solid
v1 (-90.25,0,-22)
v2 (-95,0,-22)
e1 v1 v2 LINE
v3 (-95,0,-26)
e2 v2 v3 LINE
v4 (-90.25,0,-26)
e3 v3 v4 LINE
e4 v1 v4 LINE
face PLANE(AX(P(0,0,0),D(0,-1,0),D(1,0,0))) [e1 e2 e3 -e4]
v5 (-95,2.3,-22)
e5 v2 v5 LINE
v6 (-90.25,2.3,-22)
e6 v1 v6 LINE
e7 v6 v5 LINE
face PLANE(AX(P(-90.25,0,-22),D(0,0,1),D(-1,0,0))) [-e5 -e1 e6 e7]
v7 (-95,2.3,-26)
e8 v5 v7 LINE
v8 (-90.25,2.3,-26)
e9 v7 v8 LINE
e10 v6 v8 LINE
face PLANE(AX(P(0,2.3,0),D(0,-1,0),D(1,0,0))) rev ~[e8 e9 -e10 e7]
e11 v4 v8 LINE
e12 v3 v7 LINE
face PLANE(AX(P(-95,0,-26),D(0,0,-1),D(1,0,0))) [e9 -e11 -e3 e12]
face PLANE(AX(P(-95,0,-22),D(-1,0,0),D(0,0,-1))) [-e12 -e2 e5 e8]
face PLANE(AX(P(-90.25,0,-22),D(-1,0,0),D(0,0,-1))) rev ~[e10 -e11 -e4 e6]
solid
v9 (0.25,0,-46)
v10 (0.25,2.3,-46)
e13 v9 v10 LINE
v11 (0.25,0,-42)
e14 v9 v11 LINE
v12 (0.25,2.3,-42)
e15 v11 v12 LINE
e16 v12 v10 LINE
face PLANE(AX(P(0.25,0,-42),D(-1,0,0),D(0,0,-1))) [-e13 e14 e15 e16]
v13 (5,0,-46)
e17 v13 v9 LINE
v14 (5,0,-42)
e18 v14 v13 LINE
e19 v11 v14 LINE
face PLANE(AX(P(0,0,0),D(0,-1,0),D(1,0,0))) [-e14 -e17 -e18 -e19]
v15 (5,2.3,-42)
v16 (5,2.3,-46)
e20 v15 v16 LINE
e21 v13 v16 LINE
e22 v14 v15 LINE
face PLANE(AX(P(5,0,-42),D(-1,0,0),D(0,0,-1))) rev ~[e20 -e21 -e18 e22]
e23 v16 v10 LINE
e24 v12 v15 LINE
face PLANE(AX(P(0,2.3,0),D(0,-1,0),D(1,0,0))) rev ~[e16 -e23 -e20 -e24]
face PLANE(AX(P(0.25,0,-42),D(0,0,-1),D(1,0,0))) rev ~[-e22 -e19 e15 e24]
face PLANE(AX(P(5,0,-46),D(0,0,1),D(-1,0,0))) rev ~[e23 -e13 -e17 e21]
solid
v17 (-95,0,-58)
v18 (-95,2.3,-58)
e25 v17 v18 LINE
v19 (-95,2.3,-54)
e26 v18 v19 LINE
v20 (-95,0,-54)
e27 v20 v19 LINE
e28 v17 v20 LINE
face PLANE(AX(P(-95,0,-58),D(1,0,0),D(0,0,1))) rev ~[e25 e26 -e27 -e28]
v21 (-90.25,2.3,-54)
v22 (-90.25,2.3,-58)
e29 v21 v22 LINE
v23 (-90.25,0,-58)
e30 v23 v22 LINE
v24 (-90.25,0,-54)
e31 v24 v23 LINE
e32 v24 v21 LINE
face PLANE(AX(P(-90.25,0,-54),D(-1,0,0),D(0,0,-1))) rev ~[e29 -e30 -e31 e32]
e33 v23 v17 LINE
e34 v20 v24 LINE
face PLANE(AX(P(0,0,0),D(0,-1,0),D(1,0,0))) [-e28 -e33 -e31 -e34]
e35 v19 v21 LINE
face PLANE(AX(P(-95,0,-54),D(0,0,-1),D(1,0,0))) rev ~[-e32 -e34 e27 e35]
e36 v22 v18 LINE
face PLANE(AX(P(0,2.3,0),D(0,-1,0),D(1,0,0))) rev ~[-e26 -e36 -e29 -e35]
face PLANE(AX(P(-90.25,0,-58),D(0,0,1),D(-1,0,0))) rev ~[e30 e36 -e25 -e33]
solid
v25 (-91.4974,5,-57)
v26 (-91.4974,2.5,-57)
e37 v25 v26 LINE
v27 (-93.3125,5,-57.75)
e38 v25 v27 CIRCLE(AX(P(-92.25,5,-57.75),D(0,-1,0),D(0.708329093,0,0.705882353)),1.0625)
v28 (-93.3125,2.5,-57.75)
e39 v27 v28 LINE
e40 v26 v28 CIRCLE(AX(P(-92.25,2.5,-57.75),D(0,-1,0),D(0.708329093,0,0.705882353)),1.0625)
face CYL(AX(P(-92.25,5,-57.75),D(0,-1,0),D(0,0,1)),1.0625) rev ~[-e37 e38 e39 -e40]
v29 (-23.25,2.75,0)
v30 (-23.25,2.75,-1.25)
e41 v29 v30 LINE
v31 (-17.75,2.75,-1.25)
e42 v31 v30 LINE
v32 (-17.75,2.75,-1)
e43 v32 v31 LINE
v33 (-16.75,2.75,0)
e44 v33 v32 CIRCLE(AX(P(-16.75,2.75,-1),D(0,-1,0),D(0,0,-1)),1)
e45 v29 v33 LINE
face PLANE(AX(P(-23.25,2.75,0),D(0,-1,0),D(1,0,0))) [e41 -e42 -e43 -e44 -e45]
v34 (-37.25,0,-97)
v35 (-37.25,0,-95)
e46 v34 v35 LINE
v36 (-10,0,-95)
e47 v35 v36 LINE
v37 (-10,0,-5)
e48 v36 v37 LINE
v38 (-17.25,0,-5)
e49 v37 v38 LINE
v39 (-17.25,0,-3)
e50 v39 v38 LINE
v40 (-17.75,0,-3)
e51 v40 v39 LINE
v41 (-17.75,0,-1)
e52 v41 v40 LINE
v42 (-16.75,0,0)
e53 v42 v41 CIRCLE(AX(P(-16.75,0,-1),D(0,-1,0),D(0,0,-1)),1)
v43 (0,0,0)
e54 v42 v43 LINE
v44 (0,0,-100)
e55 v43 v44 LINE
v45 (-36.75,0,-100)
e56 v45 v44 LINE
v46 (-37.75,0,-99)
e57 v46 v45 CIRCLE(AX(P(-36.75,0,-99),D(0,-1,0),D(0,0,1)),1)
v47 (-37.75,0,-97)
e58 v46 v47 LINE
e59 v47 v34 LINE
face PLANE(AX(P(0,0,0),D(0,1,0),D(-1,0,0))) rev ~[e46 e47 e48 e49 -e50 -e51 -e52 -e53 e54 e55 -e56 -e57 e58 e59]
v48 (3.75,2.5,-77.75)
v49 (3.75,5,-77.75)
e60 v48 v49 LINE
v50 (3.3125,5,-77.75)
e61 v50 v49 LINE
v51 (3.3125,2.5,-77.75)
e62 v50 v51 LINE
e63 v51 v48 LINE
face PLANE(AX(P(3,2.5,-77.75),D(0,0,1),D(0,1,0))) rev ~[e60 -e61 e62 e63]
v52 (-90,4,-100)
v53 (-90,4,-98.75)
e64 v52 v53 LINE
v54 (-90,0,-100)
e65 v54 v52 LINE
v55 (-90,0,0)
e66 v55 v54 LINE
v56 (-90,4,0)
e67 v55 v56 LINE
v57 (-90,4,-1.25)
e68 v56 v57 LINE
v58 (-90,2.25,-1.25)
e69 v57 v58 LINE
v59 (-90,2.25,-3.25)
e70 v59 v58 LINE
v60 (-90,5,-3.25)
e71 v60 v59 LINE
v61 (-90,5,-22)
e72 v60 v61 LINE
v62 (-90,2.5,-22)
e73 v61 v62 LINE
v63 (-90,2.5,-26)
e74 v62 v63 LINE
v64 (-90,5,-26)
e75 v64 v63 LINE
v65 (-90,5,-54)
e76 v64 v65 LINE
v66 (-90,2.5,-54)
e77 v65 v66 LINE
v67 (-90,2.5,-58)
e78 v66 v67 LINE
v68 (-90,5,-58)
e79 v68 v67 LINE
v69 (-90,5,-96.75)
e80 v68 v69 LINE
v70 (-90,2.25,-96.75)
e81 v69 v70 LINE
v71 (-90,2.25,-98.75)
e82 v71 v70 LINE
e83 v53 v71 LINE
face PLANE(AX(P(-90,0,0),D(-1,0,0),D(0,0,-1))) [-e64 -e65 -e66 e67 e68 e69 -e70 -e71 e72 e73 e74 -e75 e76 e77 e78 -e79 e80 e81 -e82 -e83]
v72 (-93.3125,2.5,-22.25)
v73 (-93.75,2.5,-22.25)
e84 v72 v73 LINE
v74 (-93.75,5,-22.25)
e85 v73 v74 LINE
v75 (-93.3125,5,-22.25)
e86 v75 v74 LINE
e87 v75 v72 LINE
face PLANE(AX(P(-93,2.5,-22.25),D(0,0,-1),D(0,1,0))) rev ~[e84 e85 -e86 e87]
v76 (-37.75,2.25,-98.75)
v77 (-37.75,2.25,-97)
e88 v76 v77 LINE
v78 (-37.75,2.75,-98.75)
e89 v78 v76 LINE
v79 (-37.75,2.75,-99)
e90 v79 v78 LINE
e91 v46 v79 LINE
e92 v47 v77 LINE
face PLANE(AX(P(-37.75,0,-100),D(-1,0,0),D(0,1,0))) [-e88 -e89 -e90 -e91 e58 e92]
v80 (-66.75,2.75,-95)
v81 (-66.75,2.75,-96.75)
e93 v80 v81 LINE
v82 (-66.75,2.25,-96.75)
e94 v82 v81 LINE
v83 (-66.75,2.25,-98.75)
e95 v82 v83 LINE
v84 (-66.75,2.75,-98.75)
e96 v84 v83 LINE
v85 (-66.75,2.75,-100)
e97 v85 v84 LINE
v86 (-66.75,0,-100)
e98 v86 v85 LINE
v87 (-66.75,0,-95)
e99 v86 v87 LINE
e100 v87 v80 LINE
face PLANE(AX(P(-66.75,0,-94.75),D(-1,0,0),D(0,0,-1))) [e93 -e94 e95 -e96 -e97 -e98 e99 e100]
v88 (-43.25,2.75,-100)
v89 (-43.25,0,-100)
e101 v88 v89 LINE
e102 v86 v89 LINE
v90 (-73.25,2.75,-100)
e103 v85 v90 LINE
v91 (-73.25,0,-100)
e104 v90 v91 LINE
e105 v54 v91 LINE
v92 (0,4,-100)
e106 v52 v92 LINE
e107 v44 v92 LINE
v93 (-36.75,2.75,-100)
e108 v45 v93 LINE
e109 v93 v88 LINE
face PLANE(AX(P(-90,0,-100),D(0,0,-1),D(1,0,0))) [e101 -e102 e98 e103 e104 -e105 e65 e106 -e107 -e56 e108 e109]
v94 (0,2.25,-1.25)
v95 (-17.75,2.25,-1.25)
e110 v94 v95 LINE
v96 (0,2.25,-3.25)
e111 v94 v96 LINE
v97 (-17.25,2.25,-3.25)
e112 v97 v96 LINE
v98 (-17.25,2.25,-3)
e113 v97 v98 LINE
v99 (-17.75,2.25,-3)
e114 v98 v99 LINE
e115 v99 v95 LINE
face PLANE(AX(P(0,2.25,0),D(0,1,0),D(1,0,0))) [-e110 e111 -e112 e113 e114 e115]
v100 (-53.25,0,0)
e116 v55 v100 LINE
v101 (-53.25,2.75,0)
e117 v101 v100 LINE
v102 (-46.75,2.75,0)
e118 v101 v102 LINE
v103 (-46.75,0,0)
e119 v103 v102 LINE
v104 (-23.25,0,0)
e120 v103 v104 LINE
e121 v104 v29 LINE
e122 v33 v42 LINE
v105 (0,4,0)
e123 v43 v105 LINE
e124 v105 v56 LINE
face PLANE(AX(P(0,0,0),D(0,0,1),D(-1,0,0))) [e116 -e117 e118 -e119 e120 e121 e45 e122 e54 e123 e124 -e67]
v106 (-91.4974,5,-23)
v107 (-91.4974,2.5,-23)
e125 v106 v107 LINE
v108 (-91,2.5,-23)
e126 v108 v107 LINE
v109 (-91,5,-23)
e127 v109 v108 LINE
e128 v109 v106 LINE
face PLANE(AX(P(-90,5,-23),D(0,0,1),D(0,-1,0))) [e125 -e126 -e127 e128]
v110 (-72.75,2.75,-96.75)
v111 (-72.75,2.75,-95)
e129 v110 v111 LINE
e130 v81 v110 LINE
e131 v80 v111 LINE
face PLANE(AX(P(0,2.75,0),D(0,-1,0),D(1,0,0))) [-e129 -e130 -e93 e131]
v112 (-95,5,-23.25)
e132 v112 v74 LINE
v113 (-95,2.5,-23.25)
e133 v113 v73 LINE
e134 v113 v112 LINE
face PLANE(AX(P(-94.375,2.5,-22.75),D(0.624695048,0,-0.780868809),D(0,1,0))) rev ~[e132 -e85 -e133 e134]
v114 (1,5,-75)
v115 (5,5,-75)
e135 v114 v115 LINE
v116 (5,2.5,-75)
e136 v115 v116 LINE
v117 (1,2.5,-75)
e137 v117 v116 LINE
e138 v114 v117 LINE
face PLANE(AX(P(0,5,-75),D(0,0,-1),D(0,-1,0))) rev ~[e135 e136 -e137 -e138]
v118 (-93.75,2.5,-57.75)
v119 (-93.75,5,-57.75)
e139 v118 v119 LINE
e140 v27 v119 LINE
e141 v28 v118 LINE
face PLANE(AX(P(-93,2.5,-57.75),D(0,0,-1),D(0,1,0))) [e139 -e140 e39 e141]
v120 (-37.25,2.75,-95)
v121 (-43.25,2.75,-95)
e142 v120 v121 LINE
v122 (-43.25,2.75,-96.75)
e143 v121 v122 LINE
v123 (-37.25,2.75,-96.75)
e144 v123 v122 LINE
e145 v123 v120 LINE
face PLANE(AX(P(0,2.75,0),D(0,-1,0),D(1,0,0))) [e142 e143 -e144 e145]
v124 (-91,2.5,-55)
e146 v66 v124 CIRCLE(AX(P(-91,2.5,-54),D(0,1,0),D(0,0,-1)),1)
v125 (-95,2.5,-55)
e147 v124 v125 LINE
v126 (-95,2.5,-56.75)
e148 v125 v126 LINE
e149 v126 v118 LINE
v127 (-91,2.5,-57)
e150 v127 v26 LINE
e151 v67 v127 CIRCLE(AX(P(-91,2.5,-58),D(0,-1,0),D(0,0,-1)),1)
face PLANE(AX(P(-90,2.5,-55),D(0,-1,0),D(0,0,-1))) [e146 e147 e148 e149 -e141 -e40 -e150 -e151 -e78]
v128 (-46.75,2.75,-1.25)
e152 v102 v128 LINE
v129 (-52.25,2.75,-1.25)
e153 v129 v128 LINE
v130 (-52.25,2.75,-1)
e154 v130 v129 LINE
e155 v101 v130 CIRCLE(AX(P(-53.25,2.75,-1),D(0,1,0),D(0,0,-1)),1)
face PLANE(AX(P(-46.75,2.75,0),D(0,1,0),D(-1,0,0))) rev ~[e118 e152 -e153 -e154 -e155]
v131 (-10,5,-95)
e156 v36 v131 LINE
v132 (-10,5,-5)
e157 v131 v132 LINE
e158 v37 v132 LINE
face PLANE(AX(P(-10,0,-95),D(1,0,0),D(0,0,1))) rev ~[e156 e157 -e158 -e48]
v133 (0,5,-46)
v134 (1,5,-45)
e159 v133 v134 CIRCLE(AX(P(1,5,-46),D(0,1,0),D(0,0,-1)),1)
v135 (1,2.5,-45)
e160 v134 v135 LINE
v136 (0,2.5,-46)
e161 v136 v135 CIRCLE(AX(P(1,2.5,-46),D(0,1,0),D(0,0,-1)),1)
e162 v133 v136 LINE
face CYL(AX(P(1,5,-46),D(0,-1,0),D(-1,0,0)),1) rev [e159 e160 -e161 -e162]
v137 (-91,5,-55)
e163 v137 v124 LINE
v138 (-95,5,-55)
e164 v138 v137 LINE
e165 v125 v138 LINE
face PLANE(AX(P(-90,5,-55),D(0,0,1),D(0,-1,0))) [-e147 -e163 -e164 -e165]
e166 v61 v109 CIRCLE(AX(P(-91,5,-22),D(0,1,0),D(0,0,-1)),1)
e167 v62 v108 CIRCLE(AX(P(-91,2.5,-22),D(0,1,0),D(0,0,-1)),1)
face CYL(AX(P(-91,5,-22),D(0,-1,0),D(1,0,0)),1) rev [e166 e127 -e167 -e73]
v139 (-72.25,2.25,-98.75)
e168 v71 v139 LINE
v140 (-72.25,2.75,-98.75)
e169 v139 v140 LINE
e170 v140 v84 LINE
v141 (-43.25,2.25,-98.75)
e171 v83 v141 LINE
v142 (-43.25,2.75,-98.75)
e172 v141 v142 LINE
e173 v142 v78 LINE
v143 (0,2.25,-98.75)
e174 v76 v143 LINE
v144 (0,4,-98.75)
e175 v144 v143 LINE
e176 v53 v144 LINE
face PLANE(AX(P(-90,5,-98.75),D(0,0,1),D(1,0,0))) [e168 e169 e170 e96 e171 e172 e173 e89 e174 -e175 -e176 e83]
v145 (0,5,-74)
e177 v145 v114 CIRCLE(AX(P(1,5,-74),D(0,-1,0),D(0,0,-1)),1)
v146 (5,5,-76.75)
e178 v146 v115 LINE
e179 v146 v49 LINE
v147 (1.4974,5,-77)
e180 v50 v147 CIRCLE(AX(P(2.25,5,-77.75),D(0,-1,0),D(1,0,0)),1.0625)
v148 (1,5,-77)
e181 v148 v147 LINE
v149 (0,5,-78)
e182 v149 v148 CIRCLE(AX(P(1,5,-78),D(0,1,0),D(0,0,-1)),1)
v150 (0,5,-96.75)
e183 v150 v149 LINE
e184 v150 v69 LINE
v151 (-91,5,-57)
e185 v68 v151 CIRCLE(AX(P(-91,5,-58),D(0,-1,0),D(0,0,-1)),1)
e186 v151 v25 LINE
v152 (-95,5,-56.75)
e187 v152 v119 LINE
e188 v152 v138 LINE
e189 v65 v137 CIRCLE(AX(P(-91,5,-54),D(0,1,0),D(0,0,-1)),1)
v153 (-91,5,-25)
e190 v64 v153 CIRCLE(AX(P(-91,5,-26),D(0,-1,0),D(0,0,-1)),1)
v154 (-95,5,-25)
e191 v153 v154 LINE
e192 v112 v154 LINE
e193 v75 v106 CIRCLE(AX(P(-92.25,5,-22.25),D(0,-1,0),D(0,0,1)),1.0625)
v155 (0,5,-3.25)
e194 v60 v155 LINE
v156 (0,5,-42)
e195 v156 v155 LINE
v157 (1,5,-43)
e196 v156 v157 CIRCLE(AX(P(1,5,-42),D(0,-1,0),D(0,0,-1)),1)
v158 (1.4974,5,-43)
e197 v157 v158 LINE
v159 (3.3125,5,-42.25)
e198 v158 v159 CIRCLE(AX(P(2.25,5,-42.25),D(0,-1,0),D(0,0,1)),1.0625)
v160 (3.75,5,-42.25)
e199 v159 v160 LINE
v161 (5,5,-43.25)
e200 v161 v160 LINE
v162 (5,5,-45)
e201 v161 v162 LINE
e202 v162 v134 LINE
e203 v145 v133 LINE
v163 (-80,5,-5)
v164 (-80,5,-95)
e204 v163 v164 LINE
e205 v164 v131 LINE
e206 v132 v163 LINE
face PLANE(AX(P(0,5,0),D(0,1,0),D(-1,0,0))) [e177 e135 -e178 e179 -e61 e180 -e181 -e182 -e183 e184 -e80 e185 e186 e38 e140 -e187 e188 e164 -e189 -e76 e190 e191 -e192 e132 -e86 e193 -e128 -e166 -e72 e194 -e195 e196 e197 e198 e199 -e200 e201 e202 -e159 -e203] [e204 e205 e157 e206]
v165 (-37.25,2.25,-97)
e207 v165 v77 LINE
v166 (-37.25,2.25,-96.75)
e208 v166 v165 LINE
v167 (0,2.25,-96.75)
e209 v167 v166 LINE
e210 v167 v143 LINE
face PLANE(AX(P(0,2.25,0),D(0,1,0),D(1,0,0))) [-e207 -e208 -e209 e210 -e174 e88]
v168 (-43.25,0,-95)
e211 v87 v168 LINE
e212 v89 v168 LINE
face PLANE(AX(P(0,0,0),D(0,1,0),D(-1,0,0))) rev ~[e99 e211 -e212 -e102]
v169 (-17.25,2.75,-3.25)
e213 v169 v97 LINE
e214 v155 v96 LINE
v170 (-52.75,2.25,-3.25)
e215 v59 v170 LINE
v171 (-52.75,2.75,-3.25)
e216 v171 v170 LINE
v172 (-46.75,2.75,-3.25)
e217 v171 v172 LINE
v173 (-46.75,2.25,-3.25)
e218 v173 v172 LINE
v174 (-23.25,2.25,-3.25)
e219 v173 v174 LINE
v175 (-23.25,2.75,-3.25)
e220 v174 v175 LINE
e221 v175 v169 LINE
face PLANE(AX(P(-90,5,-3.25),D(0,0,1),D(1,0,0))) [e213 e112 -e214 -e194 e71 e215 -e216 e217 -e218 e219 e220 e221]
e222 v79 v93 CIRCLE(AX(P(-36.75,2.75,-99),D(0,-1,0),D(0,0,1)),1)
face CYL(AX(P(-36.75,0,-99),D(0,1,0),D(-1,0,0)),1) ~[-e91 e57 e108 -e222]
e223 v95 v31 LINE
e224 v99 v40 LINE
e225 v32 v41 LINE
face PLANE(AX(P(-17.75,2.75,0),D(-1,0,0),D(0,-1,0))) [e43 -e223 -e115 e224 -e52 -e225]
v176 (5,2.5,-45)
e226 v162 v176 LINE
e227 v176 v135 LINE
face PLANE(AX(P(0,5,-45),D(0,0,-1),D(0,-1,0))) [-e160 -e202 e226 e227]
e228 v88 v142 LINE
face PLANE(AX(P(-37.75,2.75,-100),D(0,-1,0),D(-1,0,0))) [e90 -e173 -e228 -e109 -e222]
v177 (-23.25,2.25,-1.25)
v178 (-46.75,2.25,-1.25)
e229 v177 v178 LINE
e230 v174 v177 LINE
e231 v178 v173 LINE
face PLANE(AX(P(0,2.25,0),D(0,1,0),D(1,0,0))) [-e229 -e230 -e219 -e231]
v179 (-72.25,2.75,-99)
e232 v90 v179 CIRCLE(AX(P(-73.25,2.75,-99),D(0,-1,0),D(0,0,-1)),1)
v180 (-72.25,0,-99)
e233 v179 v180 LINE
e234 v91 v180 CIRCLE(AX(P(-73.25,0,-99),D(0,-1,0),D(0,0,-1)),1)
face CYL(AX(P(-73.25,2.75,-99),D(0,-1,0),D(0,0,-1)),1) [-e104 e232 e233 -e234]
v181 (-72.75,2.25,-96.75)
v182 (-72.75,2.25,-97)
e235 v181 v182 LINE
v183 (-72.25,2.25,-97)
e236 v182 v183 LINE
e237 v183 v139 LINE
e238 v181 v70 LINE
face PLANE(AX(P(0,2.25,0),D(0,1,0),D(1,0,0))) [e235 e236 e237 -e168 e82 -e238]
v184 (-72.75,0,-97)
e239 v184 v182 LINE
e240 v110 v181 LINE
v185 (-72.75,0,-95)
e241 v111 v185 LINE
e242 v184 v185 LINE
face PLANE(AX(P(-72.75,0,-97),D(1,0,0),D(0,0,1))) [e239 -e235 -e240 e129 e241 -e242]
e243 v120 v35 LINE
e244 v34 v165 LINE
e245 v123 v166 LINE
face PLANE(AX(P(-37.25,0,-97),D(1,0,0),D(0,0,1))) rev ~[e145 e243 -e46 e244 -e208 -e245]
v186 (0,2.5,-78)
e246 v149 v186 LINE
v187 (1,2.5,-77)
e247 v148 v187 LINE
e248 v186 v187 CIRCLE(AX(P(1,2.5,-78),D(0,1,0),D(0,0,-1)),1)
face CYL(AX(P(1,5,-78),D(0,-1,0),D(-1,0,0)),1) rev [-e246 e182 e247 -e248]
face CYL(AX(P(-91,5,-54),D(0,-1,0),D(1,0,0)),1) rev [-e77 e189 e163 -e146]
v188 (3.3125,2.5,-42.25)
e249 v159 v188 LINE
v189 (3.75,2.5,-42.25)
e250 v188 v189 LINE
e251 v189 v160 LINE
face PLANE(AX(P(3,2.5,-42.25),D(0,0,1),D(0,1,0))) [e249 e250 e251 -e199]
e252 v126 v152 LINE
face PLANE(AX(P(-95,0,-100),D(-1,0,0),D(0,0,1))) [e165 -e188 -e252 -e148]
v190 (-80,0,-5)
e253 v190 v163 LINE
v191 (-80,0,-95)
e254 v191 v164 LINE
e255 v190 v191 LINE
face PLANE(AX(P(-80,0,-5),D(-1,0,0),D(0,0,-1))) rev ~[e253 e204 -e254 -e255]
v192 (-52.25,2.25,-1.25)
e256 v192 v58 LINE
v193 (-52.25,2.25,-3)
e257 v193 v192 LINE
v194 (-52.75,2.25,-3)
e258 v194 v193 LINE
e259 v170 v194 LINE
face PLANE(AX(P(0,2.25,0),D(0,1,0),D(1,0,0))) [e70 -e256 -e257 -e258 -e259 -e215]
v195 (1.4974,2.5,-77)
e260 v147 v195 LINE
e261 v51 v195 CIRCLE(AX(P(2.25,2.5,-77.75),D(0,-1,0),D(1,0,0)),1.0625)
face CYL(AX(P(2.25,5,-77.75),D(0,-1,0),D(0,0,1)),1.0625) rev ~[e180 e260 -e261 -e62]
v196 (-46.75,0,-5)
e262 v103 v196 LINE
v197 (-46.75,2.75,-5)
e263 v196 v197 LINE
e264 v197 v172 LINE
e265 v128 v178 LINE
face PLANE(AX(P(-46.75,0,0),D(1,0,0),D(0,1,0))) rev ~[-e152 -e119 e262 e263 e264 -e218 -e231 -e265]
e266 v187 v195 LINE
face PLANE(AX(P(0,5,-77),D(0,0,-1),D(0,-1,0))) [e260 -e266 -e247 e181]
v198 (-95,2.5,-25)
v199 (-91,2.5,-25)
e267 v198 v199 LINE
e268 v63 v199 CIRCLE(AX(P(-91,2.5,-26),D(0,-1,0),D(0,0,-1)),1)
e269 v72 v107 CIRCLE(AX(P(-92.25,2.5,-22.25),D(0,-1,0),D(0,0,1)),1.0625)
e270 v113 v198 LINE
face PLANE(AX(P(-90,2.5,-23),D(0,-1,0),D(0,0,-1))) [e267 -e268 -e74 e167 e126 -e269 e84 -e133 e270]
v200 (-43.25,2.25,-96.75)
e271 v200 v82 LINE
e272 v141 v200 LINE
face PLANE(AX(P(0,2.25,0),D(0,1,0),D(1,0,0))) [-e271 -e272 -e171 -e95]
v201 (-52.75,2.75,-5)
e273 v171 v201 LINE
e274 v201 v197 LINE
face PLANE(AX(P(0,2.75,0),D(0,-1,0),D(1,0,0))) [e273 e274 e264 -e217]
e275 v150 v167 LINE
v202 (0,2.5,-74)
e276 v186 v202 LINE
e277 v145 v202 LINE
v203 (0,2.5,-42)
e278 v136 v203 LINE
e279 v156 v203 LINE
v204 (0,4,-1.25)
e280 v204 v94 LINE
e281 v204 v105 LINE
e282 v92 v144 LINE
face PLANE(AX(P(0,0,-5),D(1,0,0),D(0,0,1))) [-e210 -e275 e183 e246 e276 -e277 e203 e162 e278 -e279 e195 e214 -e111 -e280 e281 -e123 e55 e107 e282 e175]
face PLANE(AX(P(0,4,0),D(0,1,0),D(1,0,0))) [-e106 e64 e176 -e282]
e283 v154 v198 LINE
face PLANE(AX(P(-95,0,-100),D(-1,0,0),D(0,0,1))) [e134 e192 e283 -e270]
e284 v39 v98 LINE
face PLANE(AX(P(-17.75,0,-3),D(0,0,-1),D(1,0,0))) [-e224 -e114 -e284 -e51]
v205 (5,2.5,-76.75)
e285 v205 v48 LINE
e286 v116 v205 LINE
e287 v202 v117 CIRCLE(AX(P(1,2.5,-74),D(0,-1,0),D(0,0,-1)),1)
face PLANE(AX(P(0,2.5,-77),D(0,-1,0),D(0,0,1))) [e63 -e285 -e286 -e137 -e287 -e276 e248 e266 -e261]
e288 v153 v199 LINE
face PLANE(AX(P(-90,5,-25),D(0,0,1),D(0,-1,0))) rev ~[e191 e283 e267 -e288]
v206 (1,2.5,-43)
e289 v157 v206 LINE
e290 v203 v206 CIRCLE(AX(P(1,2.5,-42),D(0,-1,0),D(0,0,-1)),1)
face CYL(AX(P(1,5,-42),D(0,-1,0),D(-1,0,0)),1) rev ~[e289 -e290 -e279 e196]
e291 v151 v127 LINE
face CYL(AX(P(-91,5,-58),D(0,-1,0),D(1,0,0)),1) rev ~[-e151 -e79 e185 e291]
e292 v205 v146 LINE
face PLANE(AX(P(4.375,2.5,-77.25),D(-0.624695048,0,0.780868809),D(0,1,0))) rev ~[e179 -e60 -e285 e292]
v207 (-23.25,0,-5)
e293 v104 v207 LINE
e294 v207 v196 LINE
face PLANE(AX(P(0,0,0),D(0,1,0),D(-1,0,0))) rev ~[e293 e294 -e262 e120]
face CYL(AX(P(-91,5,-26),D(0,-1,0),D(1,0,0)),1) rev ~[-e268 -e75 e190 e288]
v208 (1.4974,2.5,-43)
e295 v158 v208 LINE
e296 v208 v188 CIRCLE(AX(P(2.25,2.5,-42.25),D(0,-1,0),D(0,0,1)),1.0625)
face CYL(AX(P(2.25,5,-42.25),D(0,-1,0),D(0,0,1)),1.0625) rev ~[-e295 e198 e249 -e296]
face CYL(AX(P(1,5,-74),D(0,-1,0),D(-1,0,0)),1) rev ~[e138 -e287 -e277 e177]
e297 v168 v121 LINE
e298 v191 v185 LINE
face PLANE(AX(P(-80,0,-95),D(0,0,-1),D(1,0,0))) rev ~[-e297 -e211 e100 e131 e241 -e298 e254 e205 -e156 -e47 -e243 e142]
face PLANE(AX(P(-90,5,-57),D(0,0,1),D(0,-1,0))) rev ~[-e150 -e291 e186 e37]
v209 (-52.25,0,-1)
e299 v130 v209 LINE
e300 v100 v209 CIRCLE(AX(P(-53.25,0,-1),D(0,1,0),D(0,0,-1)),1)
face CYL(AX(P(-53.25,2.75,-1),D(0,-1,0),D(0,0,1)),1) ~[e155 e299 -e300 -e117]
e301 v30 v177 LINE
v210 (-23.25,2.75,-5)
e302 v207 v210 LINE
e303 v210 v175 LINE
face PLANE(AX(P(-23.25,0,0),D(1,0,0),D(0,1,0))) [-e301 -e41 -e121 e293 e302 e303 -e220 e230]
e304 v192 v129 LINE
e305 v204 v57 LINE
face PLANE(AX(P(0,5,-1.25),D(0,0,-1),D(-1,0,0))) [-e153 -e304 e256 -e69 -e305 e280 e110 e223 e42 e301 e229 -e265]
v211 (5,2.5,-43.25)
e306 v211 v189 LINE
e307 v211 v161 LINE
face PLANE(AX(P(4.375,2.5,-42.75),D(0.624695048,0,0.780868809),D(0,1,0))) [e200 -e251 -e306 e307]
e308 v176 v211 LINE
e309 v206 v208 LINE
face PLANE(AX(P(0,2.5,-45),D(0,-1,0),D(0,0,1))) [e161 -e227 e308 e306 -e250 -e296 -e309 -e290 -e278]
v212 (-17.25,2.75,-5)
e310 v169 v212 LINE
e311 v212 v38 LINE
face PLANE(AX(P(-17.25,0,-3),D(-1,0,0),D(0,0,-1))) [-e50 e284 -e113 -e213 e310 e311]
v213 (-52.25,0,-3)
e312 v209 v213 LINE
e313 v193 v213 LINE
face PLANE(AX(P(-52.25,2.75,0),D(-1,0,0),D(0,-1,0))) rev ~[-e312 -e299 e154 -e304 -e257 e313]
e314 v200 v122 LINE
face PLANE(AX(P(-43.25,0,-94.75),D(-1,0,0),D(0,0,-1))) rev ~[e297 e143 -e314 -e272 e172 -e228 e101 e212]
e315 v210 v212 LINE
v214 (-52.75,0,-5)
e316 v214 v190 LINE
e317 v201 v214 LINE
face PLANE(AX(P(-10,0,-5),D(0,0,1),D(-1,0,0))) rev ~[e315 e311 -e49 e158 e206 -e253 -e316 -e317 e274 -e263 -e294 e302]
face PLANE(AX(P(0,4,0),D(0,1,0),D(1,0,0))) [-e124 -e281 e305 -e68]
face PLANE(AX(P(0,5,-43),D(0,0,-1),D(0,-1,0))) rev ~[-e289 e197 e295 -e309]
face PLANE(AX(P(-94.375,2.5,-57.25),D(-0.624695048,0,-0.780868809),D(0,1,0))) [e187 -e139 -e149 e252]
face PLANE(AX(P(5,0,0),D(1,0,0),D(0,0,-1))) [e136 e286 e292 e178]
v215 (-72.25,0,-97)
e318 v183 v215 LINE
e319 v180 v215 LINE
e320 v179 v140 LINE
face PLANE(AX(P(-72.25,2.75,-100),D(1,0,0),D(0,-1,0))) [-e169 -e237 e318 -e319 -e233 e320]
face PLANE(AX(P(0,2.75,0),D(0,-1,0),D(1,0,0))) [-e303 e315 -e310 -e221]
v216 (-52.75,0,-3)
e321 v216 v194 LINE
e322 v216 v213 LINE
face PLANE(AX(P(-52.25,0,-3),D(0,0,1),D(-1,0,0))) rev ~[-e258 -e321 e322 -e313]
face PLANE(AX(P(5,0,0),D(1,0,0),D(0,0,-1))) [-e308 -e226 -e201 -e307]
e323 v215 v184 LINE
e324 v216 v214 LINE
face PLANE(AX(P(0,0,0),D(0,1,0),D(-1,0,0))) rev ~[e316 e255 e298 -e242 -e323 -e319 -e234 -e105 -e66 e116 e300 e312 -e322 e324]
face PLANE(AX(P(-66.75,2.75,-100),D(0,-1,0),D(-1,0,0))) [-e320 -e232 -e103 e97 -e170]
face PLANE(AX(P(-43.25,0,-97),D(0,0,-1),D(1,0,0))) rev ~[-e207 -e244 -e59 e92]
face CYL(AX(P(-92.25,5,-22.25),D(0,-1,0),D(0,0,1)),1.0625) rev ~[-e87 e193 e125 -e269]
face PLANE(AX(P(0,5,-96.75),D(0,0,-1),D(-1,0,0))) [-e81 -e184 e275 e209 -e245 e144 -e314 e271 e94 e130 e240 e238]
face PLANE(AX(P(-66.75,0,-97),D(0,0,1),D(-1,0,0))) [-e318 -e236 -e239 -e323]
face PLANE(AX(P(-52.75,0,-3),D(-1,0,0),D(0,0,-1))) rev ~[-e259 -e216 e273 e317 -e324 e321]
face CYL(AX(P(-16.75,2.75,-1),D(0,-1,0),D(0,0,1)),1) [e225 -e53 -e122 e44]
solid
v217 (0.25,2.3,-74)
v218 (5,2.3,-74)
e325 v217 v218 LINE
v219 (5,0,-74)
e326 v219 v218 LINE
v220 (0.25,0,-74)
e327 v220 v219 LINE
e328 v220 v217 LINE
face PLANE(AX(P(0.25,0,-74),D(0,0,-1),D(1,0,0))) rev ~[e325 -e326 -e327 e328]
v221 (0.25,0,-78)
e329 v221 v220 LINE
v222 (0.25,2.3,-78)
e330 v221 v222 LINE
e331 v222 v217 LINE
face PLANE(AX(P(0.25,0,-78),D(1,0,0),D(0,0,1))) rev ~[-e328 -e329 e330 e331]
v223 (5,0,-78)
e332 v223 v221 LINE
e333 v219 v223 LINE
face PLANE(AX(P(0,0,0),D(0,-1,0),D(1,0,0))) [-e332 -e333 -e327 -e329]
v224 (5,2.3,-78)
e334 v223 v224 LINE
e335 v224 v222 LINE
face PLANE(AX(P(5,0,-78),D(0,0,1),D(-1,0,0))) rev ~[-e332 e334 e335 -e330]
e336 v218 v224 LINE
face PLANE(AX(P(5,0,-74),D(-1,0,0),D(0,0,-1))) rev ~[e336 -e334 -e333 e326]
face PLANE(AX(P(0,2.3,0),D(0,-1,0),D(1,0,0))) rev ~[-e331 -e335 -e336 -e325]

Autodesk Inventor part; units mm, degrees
ref_plane "YZ Plane" through (0, 0, 0) normal (1, 0, 0) x (0, 1, 0)
ref_plane "XZ Plane" through (0, 0, 0) normal (0, 1, 0) x (-1, 0, 0)
ref_plane "XY Plane" through (0, 0, 0) normal (0, 0, 1) x (1, 0, 0)
sketch "Sketch1" plane through (0, 0, 0) normal (0, 1, 0) x (-1, 0, 0)
  line L0 (0, 0) -> (90, 0)
  line L1 (90, 0) -> (90, -100)
  line L2 (90, -100) -> (0, -100)
  line L3 (0, -100) -> (0, 0)
  line L4 (10, -5) -> (80, -5)
  line L5 (80, -5) -> (80, -95)
  line L6 (80, -95) -> (10, -95)
  line L7 (10, -95) -> (10, -5)
  line L8 (10, 0) -> (10, -5)
  line L9 (0, -5) -> (10, -5)
  dimension "d0" = 90
  dimension "d1" = 100
  dimension "d2" = 70
  dimension "d3" = 90
  dimension "d4" = 5
  dimension "d5" = 10
extrude "Extrusion1" add sketch "Sketch1" along normal blind 5
sketch "Sketch2" plane through (0, 5, 0) normal (0, 1, 0) x (1, 0, 0)
  line L0 (0, 0) -> (0, 100) projected
  line L1 (0, 0) -> (0, 1.5)
  line L2 (0, 1.5) -> (0, 3)
  line L3 (0, 1.5) -> (-90, 1.5)
  line L4 (-90, 1.5) -> (-90, 3)
  line L5 (-90, 3) -> (0, 3)
  line L6 (0, 3) -> (0, 1.5)
  line L7 (0, 0) -> (0, 97)
  line L8 (0, 97) -> (0, 98.5)
  line L9 (0, 97) -> (-90, 97)
  line L10 (-90, 97) -> (-90, 98.5)
  line L11 (-90, 98.5) -> (0, 98.5)
  line L12 (0, 98.5) -> (0, 97)
  line L13 (0, 1.5) -> (0, 1.25)
  line L14 (0, 1.25) -> (0, 3.25)
  line L15 (0, 1.25) -> (-90, 1.25)
  line L16 (-90, 1.25) -> (-90, 3.25)
  line L17 (-90, 3.25) -> (0, 3.25)
  line L18 (0, 3.25) -> (0, 1.25)
  line L19 (0, 98.5) -> (0, 98.75)
  line L20 (0, 98.75) -> (0, 96.75)
  line L21 (0, 96.75) -> (-90, 96.75)
  line L22 (-90, 96.75) -> (-90, 98.75)
  line L23 (-90, 98.75) -> (0, 98.75)
  line L24 (0, 98.75) -> (0, 96.75)
  dimension "d8" = 1.5
  dimension "d9" = 1.5
  dimension "d10" = 90
  dimension "d11" = 1.5
  dimension "d12" = 97
  dimension "d13" = 1.5
  dimension "d14" = 90
  dimension "d15" = 1.5
  dimension "d16" = 0.25
  dimension "d17" = 2
  dimension "d18" = 90
  dimension "d19" = 2
  dimension "d20" = 0.25
  dimension "d21" = 2
  dimension "d22" = 90
  dimension "d23" = 2
extrude "Extrusion2" cut sketch "Sketch2" against normal blind 2.75
sketch "Sketch3" plane through (0, 0, -100) normal (0, 0, -1) x (-1, 0, 0)
  line L0 (90, 0) -> (0, 0) projected
  line L1 (0, 0) -> (35, 0)
  line L2 (35, 0) -> (45, 0)
  line L3 (80, 0) -> (10, 0) projected
  line L4 (45, 0) -> (65, 0)
  line L5 (65, 0) -> (75, 0)
  line L6 (35, 0) -> (38, 0)
  line L7 (38, 0) -> (37.75, 0)
  line L8 (37.75, 0) -> (43.25, 0)
  line L9 (43.25, 0) -> (43, 0)
  line L10 (37.75, 0) -> (37.75, 2.75)
  line L11 (37.75, 2.75) -> (43.25, 2.75)
  line L12 (43.25, 2.75) -> (43.25, 0)
  line L13 (75, 0) -> (72, 0)
  line L14 (72, 0) -> (72.25, 0)
  line L15 (72.25, 0) -> (66.75, 0)
  line L16 (66.75, 0) -> (66.75, 2.75)
  line L17 (66.75, 2.75) -> (72.25, 2.75)
  line L18 (72.25, 2.75) -> (72.25, 0)
  dimension "d26" = 35
  dimension "d27" = 10
  dimension "d28" = 20
  dimension "d29" = 10
  dimension "d30" = 3
  dimension "d31" = 0.25
  dimension "d32" = 5.5
  dimension "d33" = 0.25
  dimension "d34" = 2.75
  dimension "d35" = 3
  dimension "d36" = 0.25
  dimension "d37" = 5.5
  dimension "d38" = 2.75
extrude "Extrusion3" cut sketch "Sketch3" against normal blind 3
sketch "Sketch6" plane through (-90, 0, 0) normal (0, 0, 1) x (1, 0, 0)
  line L0 (0, 0) -> (0, 5) projected
  line L1 (0, 0) -> (35, 0)
  line L2 (17.75, 0) -> (0, 0) projected
  line L3 (35, 0) -> (45, 0)
  line L4 (45, 0) -> (65, 0)
  line L5 (80, 0) -> (10, 0) projected
  line L6 (65, 0) -> (75, 0)
  line L7 (75, 0) -> (72, 0)
  line L8 (72, 0) -> (72.25, 0)
  line L9 (72.25, 0) -> (66.75, 0)
  line L10 (66.75, 0) -> (66.75, 2.75)
  line L11 (66.75, 2.75) -> (72.25, 2.75)
  line L12 (72.25, 2.75) -> (72.25, 0)
  line L13 (35, 0) -> (38, 0)
  line L14 (38, 0) -> (37.75, 0)
  line L15 (37.75, 0) -> (43.25, 0)
  line L16 (43.25, 0) -> (43.25, 2.75)
  line L17 (43.25, 2.75) -> (37.75, 2.75)
  line L18 (37.75, 2.75) -> (37.75, 0)
  point P0 (90, 0)
  dimension "d45" = 35
  dimension "d46" = 10
  dimension "d47" = 20
  dimension "d48" = 10
  dimension "d49" = 3
  dimension "d50" = 0.25
  dimension "d51" = 5.5
  dimension "d52" = 2.75
  dimension "d53" = 3
  dimension "d54" = 0.25
  dimension "d55" = 5.5
  dimension "d56" = 2.75
extrude "Extrusion4" cut sketch "Sketch6" against normal blind 3
sketch "Sketch7" plane through (0, 0, 0) normal (0, -1, 0) x (1, 0, 0)
  line L0 (-43.25, -100) -> (-43.25, -98.75) projected
  line L1 (-43.25, -97) -> (-37.25, -97)
  line L2 (-37.25, -97) -> (-37.25, -94.75)
  line L3 (-37.25, -94.75) -> (-43.25, -94.75)
  line L4 (-43.25, -94.75) -> (-43.25, -97)
  line L5 (-66.75, -100) -> (-66.75, -98.75) projected
  line L6 (-66.75, -97) -> (-72.75, -97)
  line L7 (-72.75, -97) -> (-72.75, -94.75)
  line L8 (-72.75, -94.75) -> (-66.75, -94.75)
  line L9 (-66.75, -94.75) -> (-66.75, -97)
  line L10 (-17.75, -3) -> (-23.25, -3) projected
  line L11 (-23.25, -3) -> (-17.25, -3)
  line L12 (-17.25, -3) -> (-17.25, -5.25)
  line L13 (-17.25, -5.25) -> (-23.25, -5.25)
  line L14 (-23.25, -5.25) -> (-23.25, -3)
  line L15 (-46.75, -3) -> (-52.25, -3) projected
  line L16 (-46.75, -3) -> (-52.75, -3)
  line L17 (-52.75, -3) -> (-52.75, -5.25)
  line L18 (-52.75, -5.25) -> (-46.75, -5.25)
  line L19 (-46.75, -5.25) -> (-46.75, -3)
  point P0 (0, 0)
  dimension "d71" = 6
  dimension "d72" = 2.25
  dimension "d73" = 6
  dimension "d74" = 2.25
  dimension "d75" = 6
  dimension "d76" = 2.25
  dimension "d77" = 6
  dimension "d78" = 2.25
extrude "Extrusion5" cut sketch "Sketch7" against normal blind 2.75
fillet "Fillet1" radius 1 4 edges at (-52.25, 1.375, 0) (-17.75, 1.375, 0) (-37.75, 1.375, -100) (-72.25, 1.375, -100)
sketch "Sketch9" plane through (-90, 0, -100) normal (-1, 0, 0) x (0, 0, 1)
  line L0 (0, 0) -> (0, 5) projected
  line L1 (0, 5) -> (40, 5)
  line L2 (3.25, 5) -> (96.75, 5) projected
  line L3 (40, 5) -> (50, 5)
  line L4 (50, 5) -> (70, 5)
  line L5 (70, 5) -> (80, 5)
  line L6 (80, 5) -> (80, 2.5)
  line L7 (80, 2.5) -> (0, 2.5)
  line L8 (0, 2.5) -> (0, 5)
  line L9 (80, 5) -> (77, 5)
  line L10 (77, 5) -> (77, 2.5)
  line L11 (77, 5) -> (75, 5)
  line L12 (75, 5) -> (75, 2.5)
  line L13 (40, 5) -> (43, 5)
  line L14 (43, 5) -> (45, 5)
  line L15 (45, 5) -> (45, 2.5)
  line L16 (43, 5) -> (43, 2.5)
  line L17 (43, 5) -> (45, 5)
  line L18 (45, 5) -> (45, 2.5)
  line L19 (45, 2.5) -> (43, 2.5)
  line L20 (43, 2.5) -> (43, 5)
  point P0 (100, 0)
  dimension "d85" = 40
  dimension "d86" = 10
  dimension "d87" = 20
  dimension "d88" = 10
  dimension "d89" = 2.5
  dimension "d91" = 3
  dimension "d92" = 2
  dimension "d93" = 3
  dimension "d94" = 2
extrude "Extrusion6" add sketch "Sketch9" along normal blind 3 contours L16 L2 L15 L7 | L12 L2 L10 L7
fillet "Fillet2" radius 1 4 edges at (-90, 3.75, -23) (-90, 3.75, -25) (-90, 3.75, -55) (-90, 3.75, -57)
sketch "Sketch10" plane through (-93, 0, -100) normal (-1, 0, 0) x (0, 0, 1)
  line L0 (75, 2.5) -> (77, 2.5) projected
  line L1 (75, 2.5) -> (77.75, 2.5)
  line L2 (77.75, 2.5) -> (77.75, 5)
  line L3 (77.75, 5) -> (75, 5)
  line L4 (75, 5) -> (75, 2.5)
  line L5 (45, 2.5) -> (45, 5) projected
  line L6 (45, 2.5) -> (42.25, 2.5)
  line L7 (42.25, 2.5) -> (42.25, 5)
  line L8 (42.25, 5) -> (45, 5)
  line L9 (45, 5) -> (45, 2.5)
  point P0 (100, 0)
  dimension "d98" = 2.75
  dimension "d99" = 2.5
  dimension "d100" = 2.75
  dimension "d101" = 2.5
extrude "Extrusion7" add sketch "Sketch10" along normal blind 2
sketch "Sketch12" plane through (0, 0, 0) normal (1, 0, 0) x (0, 0, -1)
  line L0 (0, 0) -> (0, 5) projected
  line L1 (0, 5) -> (40, 5)
  line L2 (5, 5) -> (95, 5) projected
  line L3 (40, 5) -> (50, 5)
  line L4 (50, 5) -> (70, 5)
  line L5 (70, 5) -> (80, 5)
  line L6 (80, 5) -> (80, 2.5)
  line L7 (95, 0) -> (5, 0) projected
  line L8 (80, 2.5) -> (0, 2.5)
  line L9 (0, 2.5) -> (0, 5)
  line L10 (80, 5) -> (77, 5)
  line L11 (77, 5) -> (75, 5)
  line L12 (75, 5) -> (75, 2.5)
  line L13 (77, 5) -> (77, 2.5)
  line L14 (77, 2.5) -> (75, 2.5)
  line L15 (40, 5) -> (43, 5)
  line L16 (54, 5) -> (26, 5) projected
  line L17 (43, 5) -> (45, 5)
  line L18 (45, 5) -> (45, 2.5)
  line L19 (43, 5) -> (43, 2.5)
  line L20 (43, 2.5) -> (45, 2.5)
  dimension "d105" = 40
  dimension "d106" = 10
  dimension "d107" = 20
  dimension "d108" = 10
  dimension "d109" = 2.5
  dimension "d110" = 3
  dimension "d111" = 2
  dimension "d112" = 3
  dimension "d113" = 2
extrude "Extrusion8" add sketch "Sketch12" along normal blind 3 contours L19 L2 L18 L8 | L12 L2 L13 L8
fillet "Fillet3" radius 1 4 edges at (0, 3.75, -43) (0, 3.75, -45) (0, 3.75, -75) (0, 3.75, -77)
sketch "Sketch13" plane through (3, 0, 0) normal (1, 0, 0) x (0, 0, -1)
  line L0 (45, 5) -> (45, 2.5) projected
  line L1 (45, 2.5) -> (42.25, 2.5)
  line L2 (42.25, 2.5) -> (42.25, 5)
  line L3 (42.25, 5) -> (45, 5)
  line L4 (45, 5) -> (45, 2.5)
  line L5 (74, 2.5) -> (75, 2.5) projected
  line L6 (75, 2.5) -> (77.75, 2.5)
  line L7 (77.75, 2.5) -> (77.75, 5)
  line L8 (77.75, 5) -> (75, 5)
  line L9 (75, 5) -> (75, 2.5)
  point P0 (0, 0)
  dimension "d117" = 2.75
  dimension "d118" = 2.5
  dimension "d119" = 2.75
  dimension "d120" = 2.5
extrude "Extrusion9" add sketch "Sketch13" along normal blind 2
sketch "Sketch11" plane through (0, 5, 0) normal (0, 1, 0) x (1, 0, 0)
  line L0 (-93, 22.25) -> (-95, 22.25) projected
  line L1 (-93, 22.25) -> (-92.25, 22.25)
  line L2 (-93, 57.75) -> (-93, 57) projected
  line L3 (-93, 57.75) -> (-92.25, 57.75)
  line L4 (3, 43) -> (3, 42.25) projected
  line L5 (3, 42.25) -> (2.25, 42.25)
  line L6 (3, 77.75) -> (3, 77) projected
  line L7 (3, 77.75) -> (2.25, 77.75)
  point P0 (0, 0)
  dimension "d104" = 0.75
  dimension "d123" = 0.75
  dimension "d124" = 0.75
hole "Hole1" at (2.25, 5, -42.25) at (2.25, 5, -77.75) at (-92.25, 5, -22.25) at (-92.25, 5, -57.75) direction (0, -1, 0) diameter 2.125 end through all
chamfer "Chamfer1" distance 1 distance2 1.25 1 edges at (5, 3.75, -42.25) measured on face at (5, 3.3333, -44.0833)
chamfer "Chamfer2" distance 1 distance2 1.25 1 edges at (5, 3.75, -77.75) measured on face at (5, 4.1667, -75.9167)
chamfer "Chamfer3" distance 1 distance2 1.25 1 edges at (-95, 3.75, -57.75) measured on face at (-95, 3.3333, -55.9167)
chamfer "Chamfer4" distance 1 distance2 1.25 1 edges at (-95, 3.75, -22.25) measured on face at (-95, 4.1667, -24.0833)
sketch "Sketch14" plane through (0, 5, 0) normal (0, 1, 0) x (1, 0, 0)
  line L0 (-52.25, 1.25) -> (-90, 1.25) projected
  line L1 (0, 0) -> (-90, 0)
  line L2 (-90, 0) -> (-90, 1.25)
  line L3 (-90, 1.25) -> (0, 1.25)
  line L4 (0, 1.25) -> (0, 0)
  line L5 (-37.75, 98.75) -> (0, 98.75) projected
  line L6 (-90, 100) -> (-90, 0) projected
  line L7 (0, 98.75) -> (-90, 98.75)
  line L8 (-90, 98.75) -> (-90, 100)
  line L9 (-90, 100) -> (0, 100)
  line L10 (0, 100) -> (0, 98.75)
extrude "Extrusion10" cut sketch "Sketch14" against normal blind 1
sketch "Sketch15" plane through (0, 0, 0) normal (0, -1, 0) x (1, 0, 0)
  point P0 (0, 0)
sketch "Sketch16" plane through (0, 0, 0) normal (0, -1, 0) x (1, 0, 0)
  line L0 (-90, -100) -> (0, -100) projected
  line L1 (0, -100) -> (0, -80)
  line L2 (0, 0) -> (0, -100) projected
  line L3 (0, -80) -> (0, -70)
  line L4 (0, -70) -> (0, -50)
  line L5 (0, -50) -> (0, -40)
  line L6 (0, -3.25) -> (0, -42) projected
  line L7 (0, -40) -> (0, -42)
  line L8 (0, -42) -> (5, -42)
  line L9 (5, -42) -> (5, -46)
  arc A0 (1, -45) -> (0, -46) centre (1, -46) ccw projected
  line L10 (5, -46) -> (0, -46)
  line L11 (0, -46) -> (0, -42)
  line L12 (0, -42) -> (0.25, -42)
  line L13 (0.25, -42) -> (0.25, -46)
  line L14 (0, -80) -> (0, -78)
  line L15 (0, -78) -> (0, -74)
  line L16 (0, -74) -> (5, -74)
  line L17 (5, -74) -> (5, -78)
  line L18 (5, -78) -> (0, -78)
  line L19 (0, -78) -> (0.25, -78)
  line L20 (0.25, -78) -> (0.25, -74)
  line L21 (0, 0) -> (-90, 0) projected
  line L22 (-90, 0) -> (-90, -20)
  line L23 (-72.75, -96.75) -> (-90, -96.75) projected
  line L24 (-90, -20) -> (-90, -30)
  line L25 (-90, -30) -> (-90, -50)
  line L26 (-90, -50) -> (-90, -60)
  line L27 (-90, -20) -> (-90, -22)
  line L28 (-90, -100) -> (-90, 0) projected
  line L29 (-90, -22) -> (-95, -22)
  line L30 (-95, -22) -> (-95, -26)
  line L31 (-95, -26) -> (-90, -26)
  line L32 (-90, -26) -> (-90, -22)
  line L33 (-90, -22) -> (-90.25, -22)
  line L34 (-90.25, -22) -> (-90.25, -26)
  line L35 (-90, -96.75) -> (-90, -58) projected
  line L36 (-90, -60) -> (-90, -58)
  line L37 (-90, -58) -> (-95, -58)
  line L38 (-95, -58) -> (-95, -54)
  line L39 (-95, -54) -> (-90, -54)
  line L40 (-90, -54) -> (-90, -58)
  line L41 (-90, -54) -> (-90.25, -54)
  line L42 (-90.25, -54) -> (-90.25, -58)
  dimension "d146" = 20
  dimension "d147" = 10
  dimension "d148" = 20
  dimension "d149" = 10
  dimension "d150" = 5
  dimension "d151" = 4
  dimension "d152" = 0.25
  dimension "d153" = 2
  dimension "d154" = 4
  dimension "d155" = 5
  dimension "d156" = 4
  dimension "d157" = 0.25
  dimension "d158" = 20
  dimension "d159" = 10
  dimension "d160" = 20
  dimension "d161" = 10
  dimension "d162" = 2
  dimension "d163" = 5
  dimension "d164" = 4
  dimension "d165" = 0.25
  dimension "d166" = 2
  dimension "d167" = 5
  dimension "d168" = 4
  dimension "d169" = 0.25
extrude "Extrusion11" add sketch "Sketch16" against normal blind 2.3 contours L20 L16 L17 L18 | L37 L38 L39 L42 | L13 L8 L9 L10 | L31 L30 L29 L34
properties part number "Male_Final"
